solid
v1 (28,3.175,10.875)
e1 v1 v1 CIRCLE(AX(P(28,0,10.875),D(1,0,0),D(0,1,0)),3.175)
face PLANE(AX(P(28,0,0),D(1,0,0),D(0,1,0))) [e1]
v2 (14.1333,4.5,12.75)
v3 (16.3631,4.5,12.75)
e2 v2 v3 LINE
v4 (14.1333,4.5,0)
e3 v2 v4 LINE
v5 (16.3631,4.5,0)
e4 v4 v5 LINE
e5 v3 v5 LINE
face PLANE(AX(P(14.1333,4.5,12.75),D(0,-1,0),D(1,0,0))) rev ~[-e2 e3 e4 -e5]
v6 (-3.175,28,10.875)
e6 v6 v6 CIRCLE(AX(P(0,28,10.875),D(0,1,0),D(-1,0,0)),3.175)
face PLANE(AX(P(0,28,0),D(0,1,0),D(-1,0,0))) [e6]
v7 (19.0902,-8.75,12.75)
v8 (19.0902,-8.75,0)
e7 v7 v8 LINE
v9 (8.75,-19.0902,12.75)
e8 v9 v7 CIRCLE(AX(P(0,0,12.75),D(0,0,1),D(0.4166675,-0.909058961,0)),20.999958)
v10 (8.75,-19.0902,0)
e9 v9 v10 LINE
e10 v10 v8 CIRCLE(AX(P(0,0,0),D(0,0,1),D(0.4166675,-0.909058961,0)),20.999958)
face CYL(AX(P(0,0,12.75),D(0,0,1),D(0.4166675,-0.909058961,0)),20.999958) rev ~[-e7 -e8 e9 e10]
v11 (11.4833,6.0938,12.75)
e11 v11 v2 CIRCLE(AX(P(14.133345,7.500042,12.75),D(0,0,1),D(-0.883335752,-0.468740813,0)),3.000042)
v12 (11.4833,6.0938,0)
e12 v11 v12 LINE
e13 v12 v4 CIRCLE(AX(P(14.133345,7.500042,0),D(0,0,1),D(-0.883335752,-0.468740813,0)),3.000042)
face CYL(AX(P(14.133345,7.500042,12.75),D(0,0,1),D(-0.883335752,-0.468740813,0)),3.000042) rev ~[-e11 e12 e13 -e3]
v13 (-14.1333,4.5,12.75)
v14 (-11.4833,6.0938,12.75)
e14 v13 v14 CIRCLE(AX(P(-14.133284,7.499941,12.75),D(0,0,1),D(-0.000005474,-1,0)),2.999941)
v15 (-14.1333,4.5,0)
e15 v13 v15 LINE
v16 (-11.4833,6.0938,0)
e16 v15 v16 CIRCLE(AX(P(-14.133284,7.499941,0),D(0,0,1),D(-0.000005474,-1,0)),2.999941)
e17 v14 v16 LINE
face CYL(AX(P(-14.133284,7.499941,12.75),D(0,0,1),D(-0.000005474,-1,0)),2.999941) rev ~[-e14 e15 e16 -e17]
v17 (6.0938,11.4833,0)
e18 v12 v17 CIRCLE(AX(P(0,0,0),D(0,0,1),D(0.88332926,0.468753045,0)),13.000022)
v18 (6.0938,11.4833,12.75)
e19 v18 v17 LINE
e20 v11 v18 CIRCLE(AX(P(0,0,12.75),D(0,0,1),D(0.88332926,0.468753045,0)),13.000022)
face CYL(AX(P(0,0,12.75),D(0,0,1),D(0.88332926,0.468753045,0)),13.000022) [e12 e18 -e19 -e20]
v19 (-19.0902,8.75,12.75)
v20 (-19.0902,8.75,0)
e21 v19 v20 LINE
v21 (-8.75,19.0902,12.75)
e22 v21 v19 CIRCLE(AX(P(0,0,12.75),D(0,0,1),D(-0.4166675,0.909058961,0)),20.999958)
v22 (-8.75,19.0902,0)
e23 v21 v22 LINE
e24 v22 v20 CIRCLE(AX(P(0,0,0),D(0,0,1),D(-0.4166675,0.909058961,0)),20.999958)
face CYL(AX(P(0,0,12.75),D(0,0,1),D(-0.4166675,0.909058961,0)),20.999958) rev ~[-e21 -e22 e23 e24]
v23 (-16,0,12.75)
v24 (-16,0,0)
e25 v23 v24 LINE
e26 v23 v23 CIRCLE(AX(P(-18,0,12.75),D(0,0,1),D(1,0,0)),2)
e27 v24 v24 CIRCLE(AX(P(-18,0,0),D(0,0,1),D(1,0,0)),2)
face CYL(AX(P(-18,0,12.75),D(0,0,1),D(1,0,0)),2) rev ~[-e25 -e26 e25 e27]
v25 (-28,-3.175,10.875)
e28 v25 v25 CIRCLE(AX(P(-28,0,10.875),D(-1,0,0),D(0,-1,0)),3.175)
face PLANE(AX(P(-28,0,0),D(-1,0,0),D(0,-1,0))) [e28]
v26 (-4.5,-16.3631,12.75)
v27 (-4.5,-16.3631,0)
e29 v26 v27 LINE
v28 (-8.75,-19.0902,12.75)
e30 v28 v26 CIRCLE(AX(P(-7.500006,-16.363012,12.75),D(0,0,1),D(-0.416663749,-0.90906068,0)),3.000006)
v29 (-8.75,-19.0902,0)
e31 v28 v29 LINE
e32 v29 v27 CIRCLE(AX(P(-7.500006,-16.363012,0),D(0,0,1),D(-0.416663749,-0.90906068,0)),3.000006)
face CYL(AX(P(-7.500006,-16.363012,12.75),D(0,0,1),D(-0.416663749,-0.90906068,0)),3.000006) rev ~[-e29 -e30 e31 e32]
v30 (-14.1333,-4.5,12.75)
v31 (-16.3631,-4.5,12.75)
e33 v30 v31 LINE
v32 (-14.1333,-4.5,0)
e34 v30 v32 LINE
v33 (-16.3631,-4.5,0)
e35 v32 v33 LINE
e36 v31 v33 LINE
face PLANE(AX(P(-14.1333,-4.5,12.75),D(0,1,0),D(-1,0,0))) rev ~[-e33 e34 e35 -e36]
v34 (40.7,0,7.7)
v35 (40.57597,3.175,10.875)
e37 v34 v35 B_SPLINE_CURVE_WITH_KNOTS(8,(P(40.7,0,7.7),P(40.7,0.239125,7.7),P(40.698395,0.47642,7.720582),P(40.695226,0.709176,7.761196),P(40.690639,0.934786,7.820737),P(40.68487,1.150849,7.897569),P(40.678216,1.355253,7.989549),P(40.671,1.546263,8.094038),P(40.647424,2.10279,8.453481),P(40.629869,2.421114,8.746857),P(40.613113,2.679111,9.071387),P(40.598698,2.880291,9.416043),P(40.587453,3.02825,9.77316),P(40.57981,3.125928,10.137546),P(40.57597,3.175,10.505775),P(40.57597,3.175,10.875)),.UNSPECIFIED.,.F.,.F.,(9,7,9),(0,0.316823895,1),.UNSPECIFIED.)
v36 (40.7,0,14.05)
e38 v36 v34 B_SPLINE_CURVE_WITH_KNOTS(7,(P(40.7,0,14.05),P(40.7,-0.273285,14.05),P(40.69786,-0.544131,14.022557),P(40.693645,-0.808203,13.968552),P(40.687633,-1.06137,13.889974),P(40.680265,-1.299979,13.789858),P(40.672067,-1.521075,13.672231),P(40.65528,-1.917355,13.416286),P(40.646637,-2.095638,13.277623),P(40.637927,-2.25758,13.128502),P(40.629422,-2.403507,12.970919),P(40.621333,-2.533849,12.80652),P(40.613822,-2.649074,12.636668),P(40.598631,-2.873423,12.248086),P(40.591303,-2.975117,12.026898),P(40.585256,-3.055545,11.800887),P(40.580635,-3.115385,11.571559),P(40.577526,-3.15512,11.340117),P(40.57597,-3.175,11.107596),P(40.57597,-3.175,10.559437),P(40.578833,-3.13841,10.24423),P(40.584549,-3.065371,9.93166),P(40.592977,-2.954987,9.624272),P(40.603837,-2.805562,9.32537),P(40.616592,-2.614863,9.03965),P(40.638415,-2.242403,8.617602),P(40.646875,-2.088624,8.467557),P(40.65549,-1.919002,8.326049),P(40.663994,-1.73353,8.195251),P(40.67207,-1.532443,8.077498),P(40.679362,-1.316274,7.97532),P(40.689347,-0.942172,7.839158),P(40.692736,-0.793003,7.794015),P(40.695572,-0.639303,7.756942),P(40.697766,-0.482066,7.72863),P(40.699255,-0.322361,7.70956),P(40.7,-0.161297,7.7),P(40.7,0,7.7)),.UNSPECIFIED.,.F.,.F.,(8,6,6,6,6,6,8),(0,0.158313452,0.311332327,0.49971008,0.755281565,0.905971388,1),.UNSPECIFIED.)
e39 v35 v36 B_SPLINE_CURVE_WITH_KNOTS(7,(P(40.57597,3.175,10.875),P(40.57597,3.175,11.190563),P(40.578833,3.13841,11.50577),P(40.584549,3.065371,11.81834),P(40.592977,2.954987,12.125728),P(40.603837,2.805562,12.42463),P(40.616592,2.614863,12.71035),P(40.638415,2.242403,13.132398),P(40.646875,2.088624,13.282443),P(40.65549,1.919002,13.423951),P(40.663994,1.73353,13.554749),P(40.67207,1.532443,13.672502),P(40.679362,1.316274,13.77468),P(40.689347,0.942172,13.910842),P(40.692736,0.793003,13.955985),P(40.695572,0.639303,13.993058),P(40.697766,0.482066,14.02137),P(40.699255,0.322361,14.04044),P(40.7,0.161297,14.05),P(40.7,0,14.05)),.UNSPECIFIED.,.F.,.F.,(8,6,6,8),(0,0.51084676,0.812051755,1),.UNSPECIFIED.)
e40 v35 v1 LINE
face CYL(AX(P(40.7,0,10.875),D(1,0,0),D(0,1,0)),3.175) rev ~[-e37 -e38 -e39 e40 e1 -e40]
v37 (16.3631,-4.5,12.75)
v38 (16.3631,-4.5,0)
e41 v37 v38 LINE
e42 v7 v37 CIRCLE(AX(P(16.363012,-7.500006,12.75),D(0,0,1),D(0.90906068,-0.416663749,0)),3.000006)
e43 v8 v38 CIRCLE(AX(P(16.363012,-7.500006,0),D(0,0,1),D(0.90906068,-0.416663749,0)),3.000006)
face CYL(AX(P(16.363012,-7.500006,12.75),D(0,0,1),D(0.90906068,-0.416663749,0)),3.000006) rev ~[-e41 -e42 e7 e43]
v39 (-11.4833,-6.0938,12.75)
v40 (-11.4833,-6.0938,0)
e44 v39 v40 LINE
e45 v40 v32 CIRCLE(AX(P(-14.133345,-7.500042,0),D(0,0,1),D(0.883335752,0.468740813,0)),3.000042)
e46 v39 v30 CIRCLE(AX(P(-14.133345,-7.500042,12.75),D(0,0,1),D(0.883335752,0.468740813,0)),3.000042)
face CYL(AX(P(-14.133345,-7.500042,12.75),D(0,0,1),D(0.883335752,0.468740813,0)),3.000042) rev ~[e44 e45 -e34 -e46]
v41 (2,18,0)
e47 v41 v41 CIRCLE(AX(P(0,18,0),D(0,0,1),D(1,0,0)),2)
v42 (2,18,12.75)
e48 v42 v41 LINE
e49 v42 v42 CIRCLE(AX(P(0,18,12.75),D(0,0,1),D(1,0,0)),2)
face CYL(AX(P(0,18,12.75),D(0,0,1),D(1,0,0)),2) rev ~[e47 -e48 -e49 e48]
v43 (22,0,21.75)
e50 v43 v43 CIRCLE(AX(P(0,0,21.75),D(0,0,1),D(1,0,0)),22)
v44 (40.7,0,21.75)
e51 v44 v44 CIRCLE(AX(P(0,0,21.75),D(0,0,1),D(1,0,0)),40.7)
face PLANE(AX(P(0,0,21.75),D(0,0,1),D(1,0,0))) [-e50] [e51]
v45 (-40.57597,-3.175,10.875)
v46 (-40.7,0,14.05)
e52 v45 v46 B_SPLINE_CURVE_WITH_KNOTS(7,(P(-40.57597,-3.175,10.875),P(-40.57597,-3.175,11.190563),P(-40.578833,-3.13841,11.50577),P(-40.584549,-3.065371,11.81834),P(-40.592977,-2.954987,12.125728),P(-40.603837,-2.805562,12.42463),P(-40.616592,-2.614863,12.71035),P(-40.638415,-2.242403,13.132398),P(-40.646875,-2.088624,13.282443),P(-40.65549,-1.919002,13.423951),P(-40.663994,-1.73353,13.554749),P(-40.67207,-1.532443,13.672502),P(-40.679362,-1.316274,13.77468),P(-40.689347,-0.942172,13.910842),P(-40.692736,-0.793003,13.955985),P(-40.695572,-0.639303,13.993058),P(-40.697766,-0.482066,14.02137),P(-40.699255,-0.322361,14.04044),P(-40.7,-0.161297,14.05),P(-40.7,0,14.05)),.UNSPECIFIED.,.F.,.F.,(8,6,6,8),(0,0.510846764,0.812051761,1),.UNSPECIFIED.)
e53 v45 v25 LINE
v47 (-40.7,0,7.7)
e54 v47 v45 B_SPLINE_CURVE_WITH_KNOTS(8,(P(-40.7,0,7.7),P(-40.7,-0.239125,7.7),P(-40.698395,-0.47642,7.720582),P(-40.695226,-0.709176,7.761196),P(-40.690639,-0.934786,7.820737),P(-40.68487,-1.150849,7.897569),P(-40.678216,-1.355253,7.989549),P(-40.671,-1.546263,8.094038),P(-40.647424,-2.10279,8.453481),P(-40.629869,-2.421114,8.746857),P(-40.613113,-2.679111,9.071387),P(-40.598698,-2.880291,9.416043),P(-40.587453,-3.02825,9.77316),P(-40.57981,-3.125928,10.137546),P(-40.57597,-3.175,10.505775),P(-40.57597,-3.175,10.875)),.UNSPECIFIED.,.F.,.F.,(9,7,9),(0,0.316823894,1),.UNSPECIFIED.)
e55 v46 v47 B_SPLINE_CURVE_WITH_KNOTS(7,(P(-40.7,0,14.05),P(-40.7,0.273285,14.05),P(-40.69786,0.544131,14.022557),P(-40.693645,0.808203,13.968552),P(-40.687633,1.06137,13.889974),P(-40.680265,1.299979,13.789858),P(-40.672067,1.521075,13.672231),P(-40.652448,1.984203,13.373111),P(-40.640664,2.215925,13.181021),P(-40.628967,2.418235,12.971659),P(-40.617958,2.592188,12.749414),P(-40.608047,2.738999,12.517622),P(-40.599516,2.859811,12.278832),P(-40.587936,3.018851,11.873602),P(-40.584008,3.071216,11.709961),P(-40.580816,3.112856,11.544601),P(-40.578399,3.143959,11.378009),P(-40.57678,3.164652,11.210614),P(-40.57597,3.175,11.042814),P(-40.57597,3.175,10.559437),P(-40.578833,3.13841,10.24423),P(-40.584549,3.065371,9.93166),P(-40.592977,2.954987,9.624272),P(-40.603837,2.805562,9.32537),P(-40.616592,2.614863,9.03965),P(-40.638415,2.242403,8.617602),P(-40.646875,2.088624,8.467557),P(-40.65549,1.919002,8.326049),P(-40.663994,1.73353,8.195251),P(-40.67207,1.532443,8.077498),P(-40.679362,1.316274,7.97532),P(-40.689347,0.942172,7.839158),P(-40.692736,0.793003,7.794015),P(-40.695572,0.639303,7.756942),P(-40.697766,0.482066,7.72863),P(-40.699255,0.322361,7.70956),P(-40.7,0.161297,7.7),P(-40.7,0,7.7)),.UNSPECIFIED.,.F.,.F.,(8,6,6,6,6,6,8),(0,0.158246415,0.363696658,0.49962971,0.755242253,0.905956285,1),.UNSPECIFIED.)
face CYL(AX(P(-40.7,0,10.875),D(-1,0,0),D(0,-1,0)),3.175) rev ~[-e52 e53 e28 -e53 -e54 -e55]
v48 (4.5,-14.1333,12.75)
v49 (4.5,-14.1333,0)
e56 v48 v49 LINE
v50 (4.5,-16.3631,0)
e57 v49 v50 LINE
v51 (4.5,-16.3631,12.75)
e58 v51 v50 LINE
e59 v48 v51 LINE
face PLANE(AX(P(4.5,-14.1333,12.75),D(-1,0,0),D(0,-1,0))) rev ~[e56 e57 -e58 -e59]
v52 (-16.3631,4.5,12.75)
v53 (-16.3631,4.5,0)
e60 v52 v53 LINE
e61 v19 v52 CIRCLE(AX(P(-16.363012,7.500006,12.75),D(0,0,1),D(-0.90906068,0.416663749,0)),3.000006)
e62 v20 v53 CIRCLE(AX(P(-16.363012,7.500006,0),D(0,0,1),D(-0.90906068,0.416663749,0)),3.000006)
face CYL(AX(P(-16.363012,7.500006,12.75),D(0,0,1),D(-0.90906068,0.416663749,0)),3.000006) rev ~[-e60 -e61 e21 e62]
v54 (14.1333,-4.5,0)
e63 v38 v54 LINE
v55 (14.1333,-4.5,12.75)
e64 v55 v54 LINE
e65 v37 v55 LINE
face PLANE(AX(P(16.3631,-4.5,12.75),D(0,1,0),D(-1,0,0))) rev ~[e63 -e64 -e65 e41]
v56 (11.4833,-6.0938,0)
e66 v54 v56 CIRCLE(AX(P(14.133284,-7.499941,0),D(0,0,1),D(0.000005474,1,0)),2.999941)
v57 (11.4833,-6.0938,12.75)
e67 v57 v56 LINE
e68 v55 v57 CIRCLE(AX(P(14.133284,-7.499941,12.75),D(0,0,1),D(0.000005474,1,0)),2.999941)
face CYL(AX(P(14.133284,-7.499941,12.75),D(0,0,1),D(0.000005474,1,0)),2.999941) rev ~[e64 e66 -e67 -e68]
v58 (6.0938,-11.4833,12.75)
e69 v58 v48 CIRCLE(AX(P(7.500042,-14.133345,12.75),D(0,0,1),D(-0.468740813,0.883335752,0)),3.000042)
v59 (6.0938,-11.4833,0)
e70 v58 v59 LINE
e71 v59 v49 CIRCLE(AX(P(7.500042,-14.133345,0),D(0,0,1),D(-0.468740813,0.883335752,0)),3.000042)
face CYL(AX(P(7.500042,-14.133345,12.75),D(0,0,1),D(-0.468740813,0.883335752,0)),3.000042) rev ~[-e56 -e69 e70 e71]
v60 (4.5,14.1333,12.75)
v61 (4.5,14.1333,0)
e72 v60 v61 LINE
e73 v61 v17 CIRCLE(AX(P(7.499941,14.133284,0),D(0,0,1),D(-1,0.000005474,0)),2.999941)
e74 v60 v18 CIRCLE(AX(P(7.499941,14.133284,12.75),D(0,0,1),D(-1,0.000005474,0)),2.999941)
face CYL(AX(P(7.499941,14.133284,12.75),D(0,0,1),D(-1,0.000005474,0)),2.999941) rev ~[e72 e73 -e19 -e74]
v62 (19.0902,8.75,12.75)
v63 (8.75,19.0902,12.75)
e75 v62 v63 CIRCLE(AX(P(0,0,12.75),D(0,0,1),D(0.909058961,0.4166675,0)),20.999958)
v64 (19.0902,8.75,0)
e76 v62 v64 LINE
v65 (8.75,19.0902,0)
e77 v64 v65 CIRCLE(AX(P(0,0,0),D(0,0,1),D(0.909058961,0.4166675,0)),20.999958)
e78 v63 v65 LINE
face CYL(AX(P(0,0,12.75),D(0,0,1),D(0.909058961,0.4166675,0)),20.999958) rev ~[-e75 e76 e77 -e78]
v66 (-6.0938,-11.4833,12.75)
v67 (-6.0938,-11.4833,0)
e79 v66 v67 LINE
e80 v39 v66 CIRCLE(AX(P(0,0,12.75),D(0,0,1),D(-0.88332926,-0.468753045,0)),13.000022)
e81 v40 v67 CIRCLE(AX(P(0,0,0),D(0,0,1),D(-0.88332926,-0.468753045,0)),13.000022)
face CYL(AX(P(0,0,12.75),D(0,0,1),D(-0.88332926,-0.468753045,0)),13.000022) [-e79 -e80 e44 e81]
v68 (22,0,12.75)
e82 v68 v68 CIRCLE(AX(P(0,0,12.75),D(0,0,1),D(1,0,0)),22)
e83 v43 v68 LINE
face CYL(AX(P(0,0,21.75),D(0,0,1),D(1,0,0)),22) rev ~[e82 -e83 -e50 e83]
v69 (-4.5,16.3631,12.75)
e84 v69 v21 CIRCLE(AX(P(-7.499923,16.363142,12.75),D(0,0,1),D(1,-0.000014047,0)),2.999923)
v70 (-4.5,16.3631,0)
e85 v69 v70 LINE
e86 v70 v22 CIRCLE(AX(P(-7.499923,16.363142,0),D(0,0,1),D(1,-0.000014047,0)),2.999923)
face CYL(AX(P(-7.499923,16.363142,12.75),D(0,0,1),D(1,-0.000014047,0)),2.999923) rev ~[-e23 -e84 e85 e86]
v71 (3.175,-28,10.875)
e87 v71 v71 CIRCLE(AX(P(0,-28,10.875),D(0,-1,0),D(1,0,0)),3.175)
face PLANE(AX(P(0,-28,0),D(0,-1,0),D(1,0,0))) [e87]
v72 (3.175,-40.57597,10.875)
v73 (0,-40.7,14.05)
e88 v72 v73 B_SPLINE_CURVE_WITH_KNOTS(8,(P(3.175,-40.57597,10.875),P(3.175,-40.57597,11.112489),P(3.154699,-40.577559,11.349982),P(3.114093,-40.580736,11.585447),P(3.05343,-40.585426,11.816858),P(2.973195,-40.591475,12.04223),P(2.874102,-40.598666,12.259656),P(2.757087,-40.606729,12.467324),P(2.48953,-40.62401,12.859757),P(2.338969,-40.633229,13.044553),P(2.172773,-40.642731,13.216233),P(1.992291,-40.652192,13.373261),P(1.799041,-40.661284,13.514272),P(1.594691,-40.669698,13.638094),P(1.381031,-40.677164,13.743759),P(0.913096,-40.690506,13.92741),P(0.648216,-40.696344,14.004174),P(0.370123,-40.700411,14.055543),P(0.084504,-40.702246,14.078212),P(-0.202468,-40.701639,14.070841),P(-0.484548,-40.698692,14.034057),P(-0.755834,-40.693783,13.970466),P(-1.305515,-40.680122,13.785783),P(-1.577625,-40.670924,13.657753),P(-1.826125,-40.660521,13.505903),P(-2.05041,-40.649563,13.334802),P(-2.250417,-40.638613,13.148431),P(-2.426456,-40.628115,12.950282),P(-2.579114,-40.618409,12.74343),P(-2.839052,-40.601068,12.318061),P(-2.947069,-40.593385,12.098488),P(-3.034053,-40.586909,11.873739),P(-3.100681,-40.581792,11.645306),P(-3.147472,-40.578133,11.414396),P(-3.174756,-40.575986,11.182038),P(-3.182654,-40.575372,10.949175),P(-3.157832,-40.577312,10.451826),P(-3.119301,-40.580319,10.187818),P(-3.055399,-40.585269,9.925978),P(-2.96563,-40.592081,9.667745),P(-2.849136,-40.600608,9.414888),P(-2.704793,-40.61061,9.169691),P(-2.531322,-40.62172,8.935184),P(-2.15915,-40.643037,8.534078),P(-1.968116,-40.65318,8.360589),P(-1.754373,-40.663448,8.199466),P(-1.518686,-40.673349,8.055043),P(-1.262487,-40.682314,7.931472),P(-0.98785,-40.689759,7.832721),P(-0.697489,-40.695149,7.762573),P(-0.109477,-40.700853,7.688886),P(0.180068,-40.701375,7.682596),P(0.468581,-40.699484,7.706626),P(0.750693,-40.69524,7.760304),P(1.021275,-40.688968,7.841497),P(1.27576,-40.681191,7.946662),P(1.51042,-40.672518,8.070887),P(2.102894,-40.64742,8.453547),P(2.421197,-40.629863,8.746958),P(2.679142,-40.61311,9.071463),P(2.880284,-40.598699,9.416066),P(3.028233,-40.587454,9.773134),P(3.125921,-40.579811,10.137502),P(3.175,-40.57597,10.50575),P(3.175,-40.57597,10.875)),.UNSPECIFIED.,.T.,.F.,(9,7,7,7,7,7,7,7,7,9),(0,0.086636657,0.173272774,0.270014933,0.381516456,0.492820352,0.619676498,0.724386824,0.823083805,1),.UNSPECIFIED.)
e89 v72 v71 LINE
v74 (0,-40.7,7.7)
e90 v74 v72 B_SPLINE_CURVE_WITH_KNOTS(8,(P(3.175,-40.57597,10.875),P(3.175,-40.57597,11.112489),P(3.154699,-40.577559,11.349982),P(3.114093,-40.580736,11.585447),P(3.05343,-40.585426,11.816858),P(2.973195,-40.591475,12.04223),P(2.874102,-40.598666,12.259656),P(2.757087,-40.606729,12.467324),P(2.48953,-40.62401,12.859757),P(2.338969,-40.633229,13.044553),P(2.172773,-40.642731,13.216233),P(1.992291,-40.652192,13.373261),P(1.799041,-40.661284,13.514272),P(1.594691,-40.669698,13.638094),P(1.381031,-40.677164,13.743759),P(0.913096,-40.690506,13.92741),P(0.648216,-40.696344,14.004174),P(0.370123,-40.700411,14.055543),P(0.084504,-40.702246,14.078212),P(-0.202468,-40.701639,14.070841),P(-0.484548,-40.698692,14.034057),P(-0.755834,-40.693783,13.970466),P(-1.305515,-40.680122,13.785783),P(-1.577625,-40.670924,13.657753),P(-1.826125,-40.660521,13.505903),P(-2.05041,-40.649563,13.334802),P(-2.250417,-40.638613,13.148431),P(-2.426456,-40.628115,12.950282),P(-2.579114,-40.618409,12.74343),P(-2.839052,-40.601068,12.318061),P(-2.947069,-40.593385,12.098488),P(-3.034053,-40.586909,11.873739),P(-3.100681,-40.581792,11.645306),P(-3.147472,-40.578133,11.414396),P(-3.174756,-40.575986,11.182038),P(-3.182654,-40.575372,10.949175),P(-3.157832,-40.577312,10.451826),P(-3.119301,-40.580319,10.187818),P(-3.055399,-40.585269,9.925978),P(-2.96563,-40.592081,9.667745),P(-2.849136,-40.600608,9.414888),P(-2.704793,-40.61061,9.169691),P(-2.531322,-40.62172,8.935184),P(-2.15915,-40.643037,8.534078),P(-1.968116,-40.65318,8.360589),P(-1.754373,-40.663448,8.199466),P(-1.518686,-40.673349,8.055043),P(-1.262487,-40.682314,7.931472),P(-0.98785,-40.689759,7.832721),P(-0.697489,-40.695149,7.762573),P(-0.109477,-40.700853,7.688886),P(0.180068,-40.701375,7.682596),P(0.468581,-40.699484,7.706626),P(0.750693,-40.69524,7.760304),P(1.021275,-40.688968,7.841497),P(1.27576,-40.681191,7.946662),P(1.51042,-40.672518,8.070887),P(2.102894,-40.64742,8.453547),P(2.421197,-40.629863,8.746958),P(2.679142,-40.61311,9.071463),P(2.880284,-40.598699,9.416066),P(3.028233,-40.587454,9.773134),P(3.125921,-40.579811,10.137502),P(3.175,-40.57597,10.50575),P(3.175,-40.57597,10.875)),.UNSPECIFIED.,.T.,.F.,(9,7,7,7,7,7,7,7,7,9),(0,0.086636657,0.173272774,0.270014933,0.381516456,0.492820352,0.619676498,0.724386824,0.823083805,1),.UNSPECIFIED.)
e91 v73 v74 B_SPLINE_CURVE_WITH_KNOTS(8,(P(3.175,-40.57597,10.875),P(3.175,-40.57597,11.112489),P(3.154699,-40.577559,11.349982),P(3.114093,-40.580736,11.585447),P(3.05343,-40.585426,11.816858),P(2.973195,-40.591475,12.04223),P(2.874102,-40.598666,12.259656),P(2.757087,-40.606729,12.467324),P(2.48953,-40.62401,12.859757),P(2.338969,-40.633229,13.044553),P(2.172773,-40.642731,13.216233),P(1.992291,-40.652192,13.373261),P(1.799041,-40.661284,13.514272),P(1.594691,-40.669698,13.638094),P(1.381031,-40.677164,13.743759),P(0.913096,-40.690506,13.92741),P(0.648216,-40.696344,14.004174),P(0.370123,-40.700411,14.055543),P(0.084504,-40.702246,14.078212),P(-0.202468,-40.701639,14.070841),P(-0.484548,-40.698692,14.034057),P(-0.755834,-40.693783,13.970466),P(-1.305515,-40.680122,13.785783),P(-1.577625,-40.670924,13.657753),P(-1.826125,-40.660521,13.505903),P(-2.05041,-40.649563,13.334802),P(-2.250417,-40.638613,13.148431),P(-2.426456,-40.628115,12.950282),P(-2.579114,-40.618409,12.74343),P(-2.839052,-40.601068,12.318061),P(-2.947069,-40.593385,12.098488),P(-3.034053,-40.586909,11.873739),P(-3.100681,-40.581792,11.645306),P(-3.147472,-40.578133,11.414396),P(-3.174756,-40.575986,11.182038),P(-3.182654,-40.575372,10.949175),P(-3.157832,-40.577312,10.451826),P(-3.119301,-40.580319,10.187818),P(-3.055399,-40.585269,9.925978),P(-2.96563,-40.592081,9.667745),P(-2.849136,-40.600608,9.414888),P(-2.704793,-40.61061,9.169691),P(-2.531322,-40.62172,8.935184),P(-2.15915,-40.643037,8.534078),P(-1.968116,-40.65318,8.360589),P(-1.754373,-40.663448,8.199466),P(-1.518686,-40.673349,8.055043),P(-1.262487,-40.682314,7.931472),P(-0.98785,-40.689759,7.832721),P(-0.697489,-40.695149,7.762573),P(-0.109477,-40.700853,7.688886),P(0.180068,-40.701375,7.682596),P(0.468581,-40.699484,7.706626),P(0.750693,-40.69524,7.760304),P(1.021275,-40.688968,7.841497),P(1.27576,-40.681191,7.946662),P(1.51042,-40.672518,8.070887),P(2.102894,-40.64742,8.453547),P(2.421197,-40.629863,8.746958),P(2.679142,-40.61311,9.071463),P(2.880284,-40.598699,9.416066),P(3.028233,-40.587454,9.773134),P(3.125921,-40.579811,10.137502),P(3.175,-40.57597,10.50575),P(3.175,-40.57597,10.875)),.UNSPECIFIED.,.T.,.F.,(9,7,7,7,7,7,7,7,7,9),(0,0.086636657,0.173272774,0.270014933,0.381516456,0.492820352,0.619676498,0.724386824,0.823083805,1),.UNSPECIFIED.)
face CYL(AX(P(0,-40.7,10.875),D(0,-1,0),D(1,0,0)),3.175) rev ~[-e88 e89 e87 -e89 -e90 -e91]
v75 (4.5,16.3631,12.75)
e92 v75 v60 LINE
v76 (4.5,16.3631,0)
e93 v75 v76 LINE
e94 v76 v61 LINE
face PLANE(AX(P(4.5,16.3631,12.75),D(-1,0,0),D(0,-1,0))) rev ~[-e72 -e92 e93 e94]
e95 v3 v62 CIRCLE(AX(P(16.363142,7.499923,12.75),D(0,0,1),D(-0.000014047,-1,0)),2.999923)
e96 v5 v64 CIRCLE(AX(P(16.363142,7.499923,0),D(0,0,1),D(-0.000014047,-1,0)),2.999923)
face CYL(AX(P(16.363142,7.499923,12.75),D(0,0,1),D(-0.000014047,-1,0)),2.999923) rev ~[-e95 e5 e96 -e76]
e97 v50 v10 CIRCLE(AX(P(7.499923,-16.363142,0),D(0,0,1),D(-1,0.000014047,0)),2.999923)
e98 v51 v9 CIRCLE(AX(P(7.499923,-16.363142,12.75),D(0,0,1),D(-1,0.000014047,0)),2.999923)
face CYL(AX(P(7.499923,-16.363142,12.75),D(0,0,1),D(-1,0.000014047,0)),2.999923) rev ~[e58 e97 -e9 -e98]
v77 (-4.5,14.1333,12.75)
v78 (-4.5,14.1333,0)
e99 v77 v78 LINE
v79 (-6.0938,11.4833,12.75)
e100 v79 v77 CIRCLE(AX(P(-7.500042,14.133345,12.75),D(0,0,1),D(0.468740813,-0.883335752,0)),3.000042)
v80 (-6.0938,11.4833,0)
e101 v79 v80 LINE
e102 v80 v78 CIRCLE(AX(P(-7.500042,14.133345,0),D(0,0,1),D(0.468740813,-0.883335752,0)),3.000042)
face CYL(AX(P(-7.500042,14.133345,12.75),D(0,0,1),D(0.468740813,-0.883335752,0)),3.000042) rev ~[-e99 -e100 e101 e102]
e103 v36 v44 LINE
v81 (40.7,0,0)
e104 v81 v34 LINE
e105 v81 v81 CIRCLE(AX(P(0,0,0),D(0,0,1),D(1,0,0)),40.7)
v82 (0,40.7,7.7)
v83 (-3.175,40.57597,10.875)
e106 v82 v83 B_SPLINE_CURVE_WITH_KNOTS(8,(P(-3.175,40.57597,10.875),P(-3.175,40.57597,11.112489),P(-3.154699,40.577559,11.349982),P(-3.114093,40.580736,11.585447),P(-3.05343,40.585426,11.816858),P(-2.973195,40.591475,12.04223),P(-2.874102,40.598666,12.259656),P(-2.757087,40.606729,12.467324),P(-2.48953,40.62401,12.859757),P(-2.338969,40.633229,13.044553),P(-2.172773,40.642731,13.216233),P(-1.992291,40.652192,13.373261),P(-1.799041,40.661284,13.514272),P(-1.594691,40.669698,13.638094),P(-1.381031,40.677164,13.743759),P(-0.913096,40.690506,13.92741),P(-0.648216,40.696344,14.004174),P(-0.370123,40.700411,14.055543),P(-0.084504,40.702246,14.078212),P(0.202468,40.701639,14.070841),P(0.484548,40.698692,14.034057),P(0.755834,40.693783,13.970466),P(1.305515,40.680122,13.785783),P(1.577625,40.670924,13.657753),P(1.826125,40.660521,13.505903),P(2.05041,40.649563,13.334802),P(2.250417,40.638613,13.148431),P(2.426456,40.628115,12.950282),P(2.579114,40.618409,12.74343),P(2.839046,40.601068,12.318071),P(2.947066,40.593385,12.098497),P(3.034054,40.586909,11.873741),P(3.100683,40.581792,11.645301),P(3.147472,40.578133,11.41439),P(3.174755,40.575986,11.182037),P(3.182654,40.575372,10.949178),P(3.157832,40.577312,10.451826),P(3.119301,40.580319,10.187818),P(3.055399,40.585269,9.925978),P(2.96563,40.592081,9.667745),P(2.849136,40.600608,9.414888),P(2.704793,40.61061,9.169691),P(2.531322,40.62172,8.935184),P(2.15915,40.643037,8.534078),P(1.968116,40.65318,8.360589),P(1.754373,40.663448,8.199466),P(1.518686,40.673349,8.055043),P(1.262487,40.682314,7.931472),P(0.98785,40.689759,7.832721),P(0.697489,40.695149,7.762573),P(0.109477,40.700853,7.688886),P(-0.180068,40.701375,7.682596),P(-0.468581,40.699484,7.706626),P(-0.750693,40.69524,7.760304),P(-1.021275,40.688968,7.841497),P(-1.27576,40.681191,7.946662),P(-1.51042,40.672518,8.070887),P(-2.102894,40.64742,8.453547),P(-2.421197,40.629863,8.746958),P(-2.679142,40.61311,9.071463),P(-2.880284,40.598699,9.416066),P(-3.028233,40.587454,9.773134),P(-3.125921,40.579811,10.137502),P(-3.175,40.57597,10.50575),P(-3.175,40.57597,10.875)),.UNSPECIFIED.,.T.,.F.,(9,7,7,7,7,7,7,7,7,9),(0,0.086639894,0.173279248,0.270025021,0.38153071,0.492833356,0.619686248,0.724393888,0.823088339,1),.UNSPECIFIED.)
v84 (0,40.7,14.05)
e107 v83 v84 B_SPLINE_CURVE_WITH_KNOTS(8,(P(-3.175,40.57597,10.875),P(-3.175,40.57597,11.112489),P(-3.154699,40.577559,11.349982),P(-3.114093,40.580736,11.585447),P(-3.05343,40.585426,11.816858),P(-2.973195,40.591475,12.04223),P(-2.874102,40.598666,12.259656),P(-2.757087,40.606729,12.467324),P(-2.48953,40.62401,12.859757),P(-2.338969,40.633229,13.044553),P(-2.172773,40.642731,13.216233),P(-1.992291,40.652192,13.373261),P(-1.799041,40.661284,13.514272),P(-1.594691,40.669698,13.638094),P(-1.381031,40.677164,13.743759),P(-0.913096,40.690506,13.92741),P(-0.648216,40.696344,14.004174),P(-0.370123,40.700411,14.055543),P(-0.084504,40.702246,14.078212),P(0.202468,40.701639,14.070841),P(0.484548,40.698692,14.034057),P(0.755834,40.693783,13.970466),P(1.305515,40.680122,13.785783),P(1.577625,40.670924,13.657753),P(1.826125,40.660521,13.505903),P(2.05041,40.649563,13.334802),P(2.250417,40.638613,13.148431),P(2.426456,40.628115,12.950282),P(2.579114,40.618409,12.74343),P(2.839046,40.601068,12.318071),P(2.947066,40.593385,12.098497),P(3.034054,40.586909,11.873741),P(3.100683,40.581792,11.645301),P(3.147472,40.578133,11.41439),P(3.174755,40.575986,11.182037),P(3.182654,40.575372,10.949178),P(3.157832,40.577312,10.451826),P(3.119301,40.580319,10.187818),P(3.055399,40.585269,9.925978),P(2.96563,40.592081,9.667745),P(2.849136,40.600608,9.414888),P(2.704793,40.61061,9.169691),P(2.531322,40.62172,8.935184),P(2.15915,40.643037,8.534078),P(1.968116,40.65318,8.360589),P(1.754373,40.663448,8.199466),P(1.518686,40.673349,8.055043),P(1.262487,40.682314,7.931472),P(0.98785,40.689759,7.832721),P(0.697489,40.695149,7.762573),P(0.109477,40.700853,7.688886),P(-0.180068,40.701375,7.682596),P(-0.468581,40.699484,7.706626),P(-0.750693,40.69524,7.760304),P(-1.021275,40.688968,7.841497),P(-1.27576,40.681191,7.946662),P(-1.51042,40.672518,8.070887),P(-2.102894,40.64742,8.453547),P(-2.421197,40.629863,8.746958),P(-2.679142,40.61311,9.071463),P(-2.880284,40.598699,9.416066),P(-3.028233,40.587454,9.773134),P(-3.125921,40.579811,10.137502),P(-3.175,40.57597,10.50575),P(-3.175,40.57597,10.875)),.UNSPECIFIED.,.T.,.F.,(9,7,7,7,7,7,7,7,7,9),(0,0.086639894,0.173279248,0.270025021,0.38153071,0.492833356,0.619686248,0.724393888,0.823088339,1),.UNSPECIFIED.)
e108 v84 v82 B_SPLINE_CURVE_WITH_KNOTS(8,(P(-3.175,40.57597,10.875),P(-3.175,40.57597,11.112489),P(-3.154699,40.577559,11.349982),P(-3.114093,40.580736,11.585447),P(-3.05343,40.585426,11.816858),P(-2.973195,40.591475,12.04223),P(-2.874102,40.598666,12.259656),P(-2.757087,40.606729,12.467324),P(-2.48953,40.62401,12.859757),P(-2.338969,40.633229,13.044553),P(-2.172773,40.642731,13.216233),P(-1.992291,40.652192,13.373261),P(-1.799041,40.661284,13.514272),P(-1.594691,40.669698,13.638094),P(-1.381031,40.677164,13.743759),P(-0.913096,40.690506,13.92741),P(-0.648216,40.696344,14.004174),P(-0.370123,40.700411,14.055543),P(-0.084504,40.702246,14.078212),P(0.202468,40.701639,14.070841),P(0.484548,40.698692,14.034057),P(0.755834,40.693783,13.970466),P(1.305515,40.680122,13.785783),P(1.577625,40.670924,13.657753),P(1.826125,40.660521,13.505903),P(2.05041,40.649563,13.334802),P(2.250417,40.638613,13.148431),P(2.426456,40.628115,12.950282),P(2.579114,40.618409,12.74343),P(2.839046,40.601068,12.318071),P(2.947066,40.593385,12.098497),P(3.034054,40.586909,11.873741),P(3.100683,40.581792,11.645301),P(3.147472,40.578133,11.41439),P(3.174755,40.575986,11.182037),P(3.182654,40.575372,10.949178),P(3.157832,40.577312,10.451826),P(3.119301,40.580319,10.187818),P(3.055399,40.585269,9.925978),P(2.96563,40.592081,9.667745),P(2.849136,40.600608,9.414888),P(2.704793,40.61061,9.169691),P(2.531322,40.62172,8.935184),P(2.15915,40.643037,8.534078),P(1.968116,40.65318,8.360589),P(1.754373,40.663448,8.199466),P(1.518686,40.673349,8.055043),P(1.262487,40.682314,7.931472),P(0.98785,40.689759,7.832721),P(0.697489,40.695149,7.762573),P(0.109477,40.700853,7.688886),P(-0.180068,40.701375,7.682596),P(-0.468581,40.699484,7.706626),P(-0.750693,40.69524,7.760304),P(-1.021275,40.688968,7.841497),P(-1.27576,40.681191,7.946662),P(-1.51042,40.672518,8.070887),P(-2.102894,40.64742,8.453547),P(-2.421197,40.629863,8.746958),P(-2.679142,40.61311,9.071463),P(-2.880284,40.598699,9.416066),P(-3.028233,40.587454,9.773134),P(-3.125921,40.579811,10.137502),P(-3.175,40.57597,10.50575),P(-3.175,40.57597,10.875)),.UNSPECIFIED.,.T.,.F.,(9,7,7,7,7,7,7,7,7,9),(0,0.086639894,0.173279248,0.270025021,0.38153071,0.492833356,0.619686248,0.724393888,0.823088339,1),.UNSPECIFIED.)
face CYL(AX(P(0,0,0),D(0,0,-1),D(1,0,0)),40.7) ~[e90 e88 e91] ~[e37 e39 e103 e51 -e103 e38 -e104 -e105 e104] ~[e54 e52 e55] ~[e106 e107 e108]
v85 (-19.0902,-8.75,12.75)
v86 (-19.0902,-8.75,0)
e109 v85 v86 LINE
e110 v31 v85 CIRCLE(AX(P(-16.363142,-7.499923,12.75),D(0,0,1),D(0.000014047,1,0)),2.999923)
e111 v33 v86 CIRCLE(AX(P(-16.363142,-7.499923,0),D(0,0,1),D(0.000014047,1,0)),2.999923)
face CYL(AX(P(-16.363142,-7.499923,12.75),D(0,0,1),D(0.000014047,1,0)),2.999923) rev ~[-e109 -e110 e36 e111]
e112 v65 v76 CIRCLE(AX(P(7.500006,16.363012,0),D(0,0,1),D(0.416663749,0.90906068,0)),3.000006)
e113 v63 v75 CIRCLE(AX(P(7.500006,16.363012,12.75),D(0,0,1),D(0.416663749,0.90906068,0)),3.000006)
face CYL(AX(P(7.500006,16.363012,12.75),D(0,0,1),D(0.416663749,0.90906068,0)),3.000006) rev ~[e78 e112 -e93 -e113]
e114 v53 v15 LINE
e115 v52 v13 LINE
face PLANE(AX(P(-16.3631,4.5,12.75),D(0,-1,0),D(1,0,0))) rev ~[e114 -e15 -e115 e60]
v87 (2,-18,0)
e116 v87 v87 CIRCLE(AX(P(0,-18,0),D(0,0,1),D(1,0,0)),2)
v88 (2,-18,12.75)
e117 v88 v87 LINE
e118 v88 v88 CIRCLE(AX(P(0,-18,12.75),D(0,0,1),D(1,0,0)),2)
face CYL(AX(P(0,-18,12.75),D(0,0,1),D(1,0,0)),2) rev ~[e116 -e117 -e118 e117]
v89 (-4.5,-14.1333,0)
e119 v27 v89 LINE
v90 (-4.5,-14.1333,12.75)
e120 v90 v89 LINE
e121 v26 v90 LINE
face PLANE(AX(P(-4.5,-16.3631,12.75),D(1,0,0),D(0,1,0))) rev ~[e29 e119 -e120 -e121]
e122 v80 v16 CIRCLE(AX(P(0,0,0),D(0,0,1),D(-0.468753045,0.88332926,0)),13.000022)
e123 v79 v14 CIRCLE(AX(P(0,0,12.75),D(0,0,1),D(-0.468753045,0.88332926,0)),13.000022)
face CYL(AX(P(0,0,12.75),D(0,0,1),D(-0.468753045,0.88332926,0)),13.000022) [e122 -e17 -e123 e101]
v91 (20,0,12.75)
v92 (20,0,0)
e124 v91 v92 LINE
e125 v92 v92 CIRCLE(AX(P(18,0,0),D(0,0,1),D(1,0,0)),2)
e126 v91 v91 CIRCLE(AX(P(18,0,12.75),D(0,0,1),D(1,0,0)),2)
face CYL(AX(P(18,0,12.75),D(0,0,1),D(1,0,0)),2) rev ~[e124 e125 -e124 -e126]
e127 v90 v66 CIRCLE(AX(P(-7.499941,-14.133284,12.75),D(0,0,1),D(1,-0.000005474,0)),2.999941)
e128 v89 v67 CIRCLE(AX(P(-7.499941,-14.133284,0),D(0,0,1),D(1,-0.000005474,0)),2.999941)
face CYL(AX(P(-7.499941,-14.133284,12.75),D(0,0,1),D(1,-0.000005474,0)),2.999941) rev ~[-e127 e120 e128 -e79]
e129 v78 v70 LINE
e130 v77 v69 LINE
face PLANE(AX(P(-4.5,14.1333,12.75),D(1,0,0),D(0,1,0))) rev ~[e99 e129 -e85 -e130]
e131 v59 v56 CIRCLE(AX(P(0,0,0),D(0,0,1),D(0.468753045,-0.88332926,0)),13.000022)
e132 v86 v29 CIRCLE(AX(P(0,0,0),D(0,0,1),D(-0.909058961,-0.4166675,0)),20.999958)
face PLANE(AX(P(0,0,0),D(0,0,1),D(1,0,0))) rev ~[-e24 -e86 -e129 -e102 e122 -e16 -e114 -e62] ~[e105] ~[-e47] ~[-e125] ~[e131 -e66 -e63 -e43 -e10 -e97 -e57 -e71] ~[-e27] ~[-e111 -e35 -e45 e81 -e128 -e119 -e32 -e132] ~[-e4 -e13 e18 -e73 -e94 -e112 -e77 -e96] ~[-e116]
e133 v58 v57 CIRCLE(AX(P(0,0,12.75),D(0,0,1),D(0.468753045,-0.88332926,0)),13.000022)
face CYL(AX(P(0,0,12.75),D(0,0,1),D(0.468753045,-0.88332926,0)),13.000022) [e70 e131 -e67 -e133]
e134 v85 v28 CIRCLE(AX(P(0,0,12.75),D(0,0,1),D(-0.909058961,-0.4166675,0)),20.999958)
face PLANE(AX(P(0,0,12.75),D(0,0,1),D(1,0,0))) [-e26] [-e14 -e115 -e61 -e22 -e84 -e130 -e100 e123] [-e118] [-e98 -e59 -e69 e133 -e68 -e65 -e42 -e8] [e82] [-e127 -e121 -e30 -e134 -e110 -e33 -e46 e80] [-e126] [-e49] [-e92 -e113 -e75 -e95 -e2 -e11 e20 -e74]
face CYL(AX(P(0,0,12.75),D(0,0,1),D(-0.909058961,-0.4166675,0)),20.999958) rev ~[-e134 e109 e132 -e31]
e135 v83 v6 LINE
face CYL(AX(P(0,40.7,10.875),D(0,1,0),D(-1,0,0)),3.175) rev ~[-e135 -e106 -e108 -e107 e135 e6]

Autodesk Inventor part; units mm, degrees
sketch "Sketch1" plane through (0, 0, 0) normal (0, 0, 1) x (1, 0, 0)
  circle A0 centre (0, 0) radius 40.7
  dimension "d0" = 81.4
extrude "Extrusion1" add sketch "Sketch1" along normal blind 21.75
sketch "Sketch2" plane through (0, 0, 21.75) normal (0, 0, 1) x (1, 0, 0)
  circle A0 centre (0, 0) radius 22
  dimension "d3" = 44
extrude "Extrusion2" cut sketch "Sketch2" against normal blind 9
sketch "Sketch3" plane through (0, 0, 12.75) normal (0, 0, 1) x (1, 0, 0)
  circle A0 centre (0, 18) radius 2
  circle A1 centre (-18, 0) radius 2
  circle A2 centre (0, -18) radius 2
  circle A3 centre (18, 0) radius 2
  point P0 (0, 0)
  dimension "d6" = 4
  dimension "d7" = 18
  dimension "d10" = 360
extrude "Extrusion3" cut sketch "Sketch3" against normal blind 12.75
sketch "Sketch4" plane through (0, 0, 12.75) normal (0, 0, 1) x (1, 0, 0)
  arc A0 (-4.5165, 17.448) -> (-8.8542, 19.2414) centre (-7.5165, 16.3345) ccw
  arc A1 (-8.8542, 19.2414) -> (-19.0977, 9.16) centre (0, 0) ccw
  arc A2 (-14.1333, 4.5) -> (-11.4833, 6.0938) centre (-14.1333, 7.5) ccw
  line L0 (-4.5, 14.1333) -> (-4.5, 16.3631)
  arc A3 (-4.5, 16.3631) -> (-8.75, 19.0902) centre (-7.5, 16.3631) ccw
  arc A4 (-6.0938, 11.4833) -> (-4.5, 14.1333) centre (-7.5, 14.1333) ccw
  arc A5 (-6.0938, 11.4833) -> (-11.4833, 6.0938) centre (0, 0) ccw
  arc A6 (-8.8542, 19.2414) -> (-19.2547, 8.8254) centre (0, 0) ccw
  arc A7 (-8.75, 19.0902) -> (-19.0902, 8.75) centre (0, 0) ccw
  arc A8 (-19.0902, 8.75) -> (-16.3631, 4.5) centre (-16.3631, 7.5) ccw
  line L1 (-16.3631, 4.5) -> (-14.1333, 4.5)
  arc A9 (-11.4833, -6.0938) -> (-14.1333, -4.5) centre (-14.1333, -7.5) ccw
  arc A10 (-4.5, -14.1333) -> (-6.0938, -11.4833) centre (-7.5, -14.1333) ccw
  arc A11 (-11.4833, -6.0938) -> (-6.0938, -11.4833) centre (0, 0) ccw
  line L2 (-14.1333, -4.5) -> (-16.3631, -4.5)
  line L3 (-4.5, -16.3631) -> (-4.5, -14.1333)
  arc A12 (-16.3631, -4.5) -> (-19.0902, -8.75) centre (-16.3631, -7.5) ccw
  arc A13 (-17.448, -4.5165) -> (-19.2414, -8.8542) centre (-16.3345, -7.5165) ccw
  arc A14 (-8.75, -19.0902) -> (-4.5, -16.3631) centre (-7.5, -16.3631) ccw
  arc A15 (-19.0902, -8.75) -> (-8.75, -19.0902) centre (0, 0) ccw
  arc A16 (-19.2414, -8.8542) -> (-9.16, -19.0977) centre (0, 0) ccw
  arc A17 (-19.2414, -8.8542) -> (-8.8254, -19.2547) centre (0, 0) ccw
  arc A18 (6.0938, -11.4833) -> (4.5, -14.1333) centre (7.5, -14.1333) ccw
  arc A19 (14.1333, -4.5) -> (11.4833, -6.0938) centre (14.1333, -7.5) ccw
  arc A20 (6.0938, -11.4833) -> (11.4833, -6.0938) centre (0, 0) ccw
  line L4 (4.5, -14.1333) -> (4.5, -16.3631)
  line L5 (16.3631, -4.5) -> (14.1333, -4.5)
  arc A21 (4.5, -16.3631) -> (8.75, -19.0902) centre (7.5, -16.3631) ccw
  arc A22 (4.5165, -17.448) -> (8.8542, -19.2414) centre (7.5165, -16.3345) ccw
  arc A23 (19.0902, -8.75) -> (16.3631, -4.5) centre (16.3631, -7.5) ccw
  arc A24 (8.75, -19.0902) -> (19.0902, -8.75) centre (0, 0) ccw
  arc A25 (8.8542, -19.2414) -> (19.0977, -9.16) centre (0, 0) ccw
  arc A26 (8.8542, -19.2414) -> (19.2547, -8.8254) centre (0, 0) ccw
  arc A27 (11.4833, 6.0938) -> (14.1333, 4.5) centre (14.1333, 7.5) ccw
  arc A28 (4.5, 14.1333) -> (6.0938, 11.4833) centre (7.5, 14.1333) ccw
  arc A29 (11.4833, 6.0938) -> (6.0938, 11.4833) centre (0, 0) ccw
  line L6 (14.1333, 4.5) -> (16.3631, 4.5)
  line L7 (4.5, 16.3631) -> (4.5, 14.1333)
  arc A30 (16.3631, 4.5) -> (19.0902, 8.75) centre (16.3631, 7.5) ccw
  arc A31 (17.448, 4.5165) -> (19.2414, 8.8542) centre (16.3345, 7.5165) ccw
  arc A32 (8.75, 19.0902) -> (4.5, 16.3631) centre (7.5, 16.3631) ccw
  arc A33 (19.0902, 8.75) -> (8.75, 19.0902) centre (0, 0) ccw
  arc A34 (19.2414, 8.8542) -> (9.16, 19.0977) centre (0, 0) ccw
  arc A35 (19.2414, 8.8542) -> (8.8254, 19.2547) centre (0, 0) ccw
  point P0 (41.0732, 32.7294)
  point P1 (-17.4931, 4.4714)
  point P2 (-16.3796, 7.4714)
  point P3 (-7.4714, -16.3796)
  point P4 (-4.4714, -17.4931)
  point P5 (16.3796, -7.4714)
  point P6 (17.4931, -4.4714)
  point P7 (7.4714, 16.3796)
  point P8 (4.4714, 17.4931)
  dimension "d16" = 360
extrude "Extrusion4" cut sketch "Sketch4" against normal blind 12.75
ref_plane "Work Plane1" through (40.7, 0, 0) normal (1, 0, 0) x (0, 1, 0)
sketch "Sketch6" plane through (40.7, 0, 0) normal (1, 0, 0) x (0, 1, 0)
  circle A0 centre (0, 10.875) radius 3.175
  point P0 (0, 0)
  dimension "d24" = 6.35
extrude "Extrusion5" cut sketch "Sketch6" against normal blind 12.7
pattern_circular "Circular Pattern1" count 4 over 360 about axis through (0, 0, -10) along (0, 0, 1) of "Extrusion5"
properties part number "MotorHousing"
